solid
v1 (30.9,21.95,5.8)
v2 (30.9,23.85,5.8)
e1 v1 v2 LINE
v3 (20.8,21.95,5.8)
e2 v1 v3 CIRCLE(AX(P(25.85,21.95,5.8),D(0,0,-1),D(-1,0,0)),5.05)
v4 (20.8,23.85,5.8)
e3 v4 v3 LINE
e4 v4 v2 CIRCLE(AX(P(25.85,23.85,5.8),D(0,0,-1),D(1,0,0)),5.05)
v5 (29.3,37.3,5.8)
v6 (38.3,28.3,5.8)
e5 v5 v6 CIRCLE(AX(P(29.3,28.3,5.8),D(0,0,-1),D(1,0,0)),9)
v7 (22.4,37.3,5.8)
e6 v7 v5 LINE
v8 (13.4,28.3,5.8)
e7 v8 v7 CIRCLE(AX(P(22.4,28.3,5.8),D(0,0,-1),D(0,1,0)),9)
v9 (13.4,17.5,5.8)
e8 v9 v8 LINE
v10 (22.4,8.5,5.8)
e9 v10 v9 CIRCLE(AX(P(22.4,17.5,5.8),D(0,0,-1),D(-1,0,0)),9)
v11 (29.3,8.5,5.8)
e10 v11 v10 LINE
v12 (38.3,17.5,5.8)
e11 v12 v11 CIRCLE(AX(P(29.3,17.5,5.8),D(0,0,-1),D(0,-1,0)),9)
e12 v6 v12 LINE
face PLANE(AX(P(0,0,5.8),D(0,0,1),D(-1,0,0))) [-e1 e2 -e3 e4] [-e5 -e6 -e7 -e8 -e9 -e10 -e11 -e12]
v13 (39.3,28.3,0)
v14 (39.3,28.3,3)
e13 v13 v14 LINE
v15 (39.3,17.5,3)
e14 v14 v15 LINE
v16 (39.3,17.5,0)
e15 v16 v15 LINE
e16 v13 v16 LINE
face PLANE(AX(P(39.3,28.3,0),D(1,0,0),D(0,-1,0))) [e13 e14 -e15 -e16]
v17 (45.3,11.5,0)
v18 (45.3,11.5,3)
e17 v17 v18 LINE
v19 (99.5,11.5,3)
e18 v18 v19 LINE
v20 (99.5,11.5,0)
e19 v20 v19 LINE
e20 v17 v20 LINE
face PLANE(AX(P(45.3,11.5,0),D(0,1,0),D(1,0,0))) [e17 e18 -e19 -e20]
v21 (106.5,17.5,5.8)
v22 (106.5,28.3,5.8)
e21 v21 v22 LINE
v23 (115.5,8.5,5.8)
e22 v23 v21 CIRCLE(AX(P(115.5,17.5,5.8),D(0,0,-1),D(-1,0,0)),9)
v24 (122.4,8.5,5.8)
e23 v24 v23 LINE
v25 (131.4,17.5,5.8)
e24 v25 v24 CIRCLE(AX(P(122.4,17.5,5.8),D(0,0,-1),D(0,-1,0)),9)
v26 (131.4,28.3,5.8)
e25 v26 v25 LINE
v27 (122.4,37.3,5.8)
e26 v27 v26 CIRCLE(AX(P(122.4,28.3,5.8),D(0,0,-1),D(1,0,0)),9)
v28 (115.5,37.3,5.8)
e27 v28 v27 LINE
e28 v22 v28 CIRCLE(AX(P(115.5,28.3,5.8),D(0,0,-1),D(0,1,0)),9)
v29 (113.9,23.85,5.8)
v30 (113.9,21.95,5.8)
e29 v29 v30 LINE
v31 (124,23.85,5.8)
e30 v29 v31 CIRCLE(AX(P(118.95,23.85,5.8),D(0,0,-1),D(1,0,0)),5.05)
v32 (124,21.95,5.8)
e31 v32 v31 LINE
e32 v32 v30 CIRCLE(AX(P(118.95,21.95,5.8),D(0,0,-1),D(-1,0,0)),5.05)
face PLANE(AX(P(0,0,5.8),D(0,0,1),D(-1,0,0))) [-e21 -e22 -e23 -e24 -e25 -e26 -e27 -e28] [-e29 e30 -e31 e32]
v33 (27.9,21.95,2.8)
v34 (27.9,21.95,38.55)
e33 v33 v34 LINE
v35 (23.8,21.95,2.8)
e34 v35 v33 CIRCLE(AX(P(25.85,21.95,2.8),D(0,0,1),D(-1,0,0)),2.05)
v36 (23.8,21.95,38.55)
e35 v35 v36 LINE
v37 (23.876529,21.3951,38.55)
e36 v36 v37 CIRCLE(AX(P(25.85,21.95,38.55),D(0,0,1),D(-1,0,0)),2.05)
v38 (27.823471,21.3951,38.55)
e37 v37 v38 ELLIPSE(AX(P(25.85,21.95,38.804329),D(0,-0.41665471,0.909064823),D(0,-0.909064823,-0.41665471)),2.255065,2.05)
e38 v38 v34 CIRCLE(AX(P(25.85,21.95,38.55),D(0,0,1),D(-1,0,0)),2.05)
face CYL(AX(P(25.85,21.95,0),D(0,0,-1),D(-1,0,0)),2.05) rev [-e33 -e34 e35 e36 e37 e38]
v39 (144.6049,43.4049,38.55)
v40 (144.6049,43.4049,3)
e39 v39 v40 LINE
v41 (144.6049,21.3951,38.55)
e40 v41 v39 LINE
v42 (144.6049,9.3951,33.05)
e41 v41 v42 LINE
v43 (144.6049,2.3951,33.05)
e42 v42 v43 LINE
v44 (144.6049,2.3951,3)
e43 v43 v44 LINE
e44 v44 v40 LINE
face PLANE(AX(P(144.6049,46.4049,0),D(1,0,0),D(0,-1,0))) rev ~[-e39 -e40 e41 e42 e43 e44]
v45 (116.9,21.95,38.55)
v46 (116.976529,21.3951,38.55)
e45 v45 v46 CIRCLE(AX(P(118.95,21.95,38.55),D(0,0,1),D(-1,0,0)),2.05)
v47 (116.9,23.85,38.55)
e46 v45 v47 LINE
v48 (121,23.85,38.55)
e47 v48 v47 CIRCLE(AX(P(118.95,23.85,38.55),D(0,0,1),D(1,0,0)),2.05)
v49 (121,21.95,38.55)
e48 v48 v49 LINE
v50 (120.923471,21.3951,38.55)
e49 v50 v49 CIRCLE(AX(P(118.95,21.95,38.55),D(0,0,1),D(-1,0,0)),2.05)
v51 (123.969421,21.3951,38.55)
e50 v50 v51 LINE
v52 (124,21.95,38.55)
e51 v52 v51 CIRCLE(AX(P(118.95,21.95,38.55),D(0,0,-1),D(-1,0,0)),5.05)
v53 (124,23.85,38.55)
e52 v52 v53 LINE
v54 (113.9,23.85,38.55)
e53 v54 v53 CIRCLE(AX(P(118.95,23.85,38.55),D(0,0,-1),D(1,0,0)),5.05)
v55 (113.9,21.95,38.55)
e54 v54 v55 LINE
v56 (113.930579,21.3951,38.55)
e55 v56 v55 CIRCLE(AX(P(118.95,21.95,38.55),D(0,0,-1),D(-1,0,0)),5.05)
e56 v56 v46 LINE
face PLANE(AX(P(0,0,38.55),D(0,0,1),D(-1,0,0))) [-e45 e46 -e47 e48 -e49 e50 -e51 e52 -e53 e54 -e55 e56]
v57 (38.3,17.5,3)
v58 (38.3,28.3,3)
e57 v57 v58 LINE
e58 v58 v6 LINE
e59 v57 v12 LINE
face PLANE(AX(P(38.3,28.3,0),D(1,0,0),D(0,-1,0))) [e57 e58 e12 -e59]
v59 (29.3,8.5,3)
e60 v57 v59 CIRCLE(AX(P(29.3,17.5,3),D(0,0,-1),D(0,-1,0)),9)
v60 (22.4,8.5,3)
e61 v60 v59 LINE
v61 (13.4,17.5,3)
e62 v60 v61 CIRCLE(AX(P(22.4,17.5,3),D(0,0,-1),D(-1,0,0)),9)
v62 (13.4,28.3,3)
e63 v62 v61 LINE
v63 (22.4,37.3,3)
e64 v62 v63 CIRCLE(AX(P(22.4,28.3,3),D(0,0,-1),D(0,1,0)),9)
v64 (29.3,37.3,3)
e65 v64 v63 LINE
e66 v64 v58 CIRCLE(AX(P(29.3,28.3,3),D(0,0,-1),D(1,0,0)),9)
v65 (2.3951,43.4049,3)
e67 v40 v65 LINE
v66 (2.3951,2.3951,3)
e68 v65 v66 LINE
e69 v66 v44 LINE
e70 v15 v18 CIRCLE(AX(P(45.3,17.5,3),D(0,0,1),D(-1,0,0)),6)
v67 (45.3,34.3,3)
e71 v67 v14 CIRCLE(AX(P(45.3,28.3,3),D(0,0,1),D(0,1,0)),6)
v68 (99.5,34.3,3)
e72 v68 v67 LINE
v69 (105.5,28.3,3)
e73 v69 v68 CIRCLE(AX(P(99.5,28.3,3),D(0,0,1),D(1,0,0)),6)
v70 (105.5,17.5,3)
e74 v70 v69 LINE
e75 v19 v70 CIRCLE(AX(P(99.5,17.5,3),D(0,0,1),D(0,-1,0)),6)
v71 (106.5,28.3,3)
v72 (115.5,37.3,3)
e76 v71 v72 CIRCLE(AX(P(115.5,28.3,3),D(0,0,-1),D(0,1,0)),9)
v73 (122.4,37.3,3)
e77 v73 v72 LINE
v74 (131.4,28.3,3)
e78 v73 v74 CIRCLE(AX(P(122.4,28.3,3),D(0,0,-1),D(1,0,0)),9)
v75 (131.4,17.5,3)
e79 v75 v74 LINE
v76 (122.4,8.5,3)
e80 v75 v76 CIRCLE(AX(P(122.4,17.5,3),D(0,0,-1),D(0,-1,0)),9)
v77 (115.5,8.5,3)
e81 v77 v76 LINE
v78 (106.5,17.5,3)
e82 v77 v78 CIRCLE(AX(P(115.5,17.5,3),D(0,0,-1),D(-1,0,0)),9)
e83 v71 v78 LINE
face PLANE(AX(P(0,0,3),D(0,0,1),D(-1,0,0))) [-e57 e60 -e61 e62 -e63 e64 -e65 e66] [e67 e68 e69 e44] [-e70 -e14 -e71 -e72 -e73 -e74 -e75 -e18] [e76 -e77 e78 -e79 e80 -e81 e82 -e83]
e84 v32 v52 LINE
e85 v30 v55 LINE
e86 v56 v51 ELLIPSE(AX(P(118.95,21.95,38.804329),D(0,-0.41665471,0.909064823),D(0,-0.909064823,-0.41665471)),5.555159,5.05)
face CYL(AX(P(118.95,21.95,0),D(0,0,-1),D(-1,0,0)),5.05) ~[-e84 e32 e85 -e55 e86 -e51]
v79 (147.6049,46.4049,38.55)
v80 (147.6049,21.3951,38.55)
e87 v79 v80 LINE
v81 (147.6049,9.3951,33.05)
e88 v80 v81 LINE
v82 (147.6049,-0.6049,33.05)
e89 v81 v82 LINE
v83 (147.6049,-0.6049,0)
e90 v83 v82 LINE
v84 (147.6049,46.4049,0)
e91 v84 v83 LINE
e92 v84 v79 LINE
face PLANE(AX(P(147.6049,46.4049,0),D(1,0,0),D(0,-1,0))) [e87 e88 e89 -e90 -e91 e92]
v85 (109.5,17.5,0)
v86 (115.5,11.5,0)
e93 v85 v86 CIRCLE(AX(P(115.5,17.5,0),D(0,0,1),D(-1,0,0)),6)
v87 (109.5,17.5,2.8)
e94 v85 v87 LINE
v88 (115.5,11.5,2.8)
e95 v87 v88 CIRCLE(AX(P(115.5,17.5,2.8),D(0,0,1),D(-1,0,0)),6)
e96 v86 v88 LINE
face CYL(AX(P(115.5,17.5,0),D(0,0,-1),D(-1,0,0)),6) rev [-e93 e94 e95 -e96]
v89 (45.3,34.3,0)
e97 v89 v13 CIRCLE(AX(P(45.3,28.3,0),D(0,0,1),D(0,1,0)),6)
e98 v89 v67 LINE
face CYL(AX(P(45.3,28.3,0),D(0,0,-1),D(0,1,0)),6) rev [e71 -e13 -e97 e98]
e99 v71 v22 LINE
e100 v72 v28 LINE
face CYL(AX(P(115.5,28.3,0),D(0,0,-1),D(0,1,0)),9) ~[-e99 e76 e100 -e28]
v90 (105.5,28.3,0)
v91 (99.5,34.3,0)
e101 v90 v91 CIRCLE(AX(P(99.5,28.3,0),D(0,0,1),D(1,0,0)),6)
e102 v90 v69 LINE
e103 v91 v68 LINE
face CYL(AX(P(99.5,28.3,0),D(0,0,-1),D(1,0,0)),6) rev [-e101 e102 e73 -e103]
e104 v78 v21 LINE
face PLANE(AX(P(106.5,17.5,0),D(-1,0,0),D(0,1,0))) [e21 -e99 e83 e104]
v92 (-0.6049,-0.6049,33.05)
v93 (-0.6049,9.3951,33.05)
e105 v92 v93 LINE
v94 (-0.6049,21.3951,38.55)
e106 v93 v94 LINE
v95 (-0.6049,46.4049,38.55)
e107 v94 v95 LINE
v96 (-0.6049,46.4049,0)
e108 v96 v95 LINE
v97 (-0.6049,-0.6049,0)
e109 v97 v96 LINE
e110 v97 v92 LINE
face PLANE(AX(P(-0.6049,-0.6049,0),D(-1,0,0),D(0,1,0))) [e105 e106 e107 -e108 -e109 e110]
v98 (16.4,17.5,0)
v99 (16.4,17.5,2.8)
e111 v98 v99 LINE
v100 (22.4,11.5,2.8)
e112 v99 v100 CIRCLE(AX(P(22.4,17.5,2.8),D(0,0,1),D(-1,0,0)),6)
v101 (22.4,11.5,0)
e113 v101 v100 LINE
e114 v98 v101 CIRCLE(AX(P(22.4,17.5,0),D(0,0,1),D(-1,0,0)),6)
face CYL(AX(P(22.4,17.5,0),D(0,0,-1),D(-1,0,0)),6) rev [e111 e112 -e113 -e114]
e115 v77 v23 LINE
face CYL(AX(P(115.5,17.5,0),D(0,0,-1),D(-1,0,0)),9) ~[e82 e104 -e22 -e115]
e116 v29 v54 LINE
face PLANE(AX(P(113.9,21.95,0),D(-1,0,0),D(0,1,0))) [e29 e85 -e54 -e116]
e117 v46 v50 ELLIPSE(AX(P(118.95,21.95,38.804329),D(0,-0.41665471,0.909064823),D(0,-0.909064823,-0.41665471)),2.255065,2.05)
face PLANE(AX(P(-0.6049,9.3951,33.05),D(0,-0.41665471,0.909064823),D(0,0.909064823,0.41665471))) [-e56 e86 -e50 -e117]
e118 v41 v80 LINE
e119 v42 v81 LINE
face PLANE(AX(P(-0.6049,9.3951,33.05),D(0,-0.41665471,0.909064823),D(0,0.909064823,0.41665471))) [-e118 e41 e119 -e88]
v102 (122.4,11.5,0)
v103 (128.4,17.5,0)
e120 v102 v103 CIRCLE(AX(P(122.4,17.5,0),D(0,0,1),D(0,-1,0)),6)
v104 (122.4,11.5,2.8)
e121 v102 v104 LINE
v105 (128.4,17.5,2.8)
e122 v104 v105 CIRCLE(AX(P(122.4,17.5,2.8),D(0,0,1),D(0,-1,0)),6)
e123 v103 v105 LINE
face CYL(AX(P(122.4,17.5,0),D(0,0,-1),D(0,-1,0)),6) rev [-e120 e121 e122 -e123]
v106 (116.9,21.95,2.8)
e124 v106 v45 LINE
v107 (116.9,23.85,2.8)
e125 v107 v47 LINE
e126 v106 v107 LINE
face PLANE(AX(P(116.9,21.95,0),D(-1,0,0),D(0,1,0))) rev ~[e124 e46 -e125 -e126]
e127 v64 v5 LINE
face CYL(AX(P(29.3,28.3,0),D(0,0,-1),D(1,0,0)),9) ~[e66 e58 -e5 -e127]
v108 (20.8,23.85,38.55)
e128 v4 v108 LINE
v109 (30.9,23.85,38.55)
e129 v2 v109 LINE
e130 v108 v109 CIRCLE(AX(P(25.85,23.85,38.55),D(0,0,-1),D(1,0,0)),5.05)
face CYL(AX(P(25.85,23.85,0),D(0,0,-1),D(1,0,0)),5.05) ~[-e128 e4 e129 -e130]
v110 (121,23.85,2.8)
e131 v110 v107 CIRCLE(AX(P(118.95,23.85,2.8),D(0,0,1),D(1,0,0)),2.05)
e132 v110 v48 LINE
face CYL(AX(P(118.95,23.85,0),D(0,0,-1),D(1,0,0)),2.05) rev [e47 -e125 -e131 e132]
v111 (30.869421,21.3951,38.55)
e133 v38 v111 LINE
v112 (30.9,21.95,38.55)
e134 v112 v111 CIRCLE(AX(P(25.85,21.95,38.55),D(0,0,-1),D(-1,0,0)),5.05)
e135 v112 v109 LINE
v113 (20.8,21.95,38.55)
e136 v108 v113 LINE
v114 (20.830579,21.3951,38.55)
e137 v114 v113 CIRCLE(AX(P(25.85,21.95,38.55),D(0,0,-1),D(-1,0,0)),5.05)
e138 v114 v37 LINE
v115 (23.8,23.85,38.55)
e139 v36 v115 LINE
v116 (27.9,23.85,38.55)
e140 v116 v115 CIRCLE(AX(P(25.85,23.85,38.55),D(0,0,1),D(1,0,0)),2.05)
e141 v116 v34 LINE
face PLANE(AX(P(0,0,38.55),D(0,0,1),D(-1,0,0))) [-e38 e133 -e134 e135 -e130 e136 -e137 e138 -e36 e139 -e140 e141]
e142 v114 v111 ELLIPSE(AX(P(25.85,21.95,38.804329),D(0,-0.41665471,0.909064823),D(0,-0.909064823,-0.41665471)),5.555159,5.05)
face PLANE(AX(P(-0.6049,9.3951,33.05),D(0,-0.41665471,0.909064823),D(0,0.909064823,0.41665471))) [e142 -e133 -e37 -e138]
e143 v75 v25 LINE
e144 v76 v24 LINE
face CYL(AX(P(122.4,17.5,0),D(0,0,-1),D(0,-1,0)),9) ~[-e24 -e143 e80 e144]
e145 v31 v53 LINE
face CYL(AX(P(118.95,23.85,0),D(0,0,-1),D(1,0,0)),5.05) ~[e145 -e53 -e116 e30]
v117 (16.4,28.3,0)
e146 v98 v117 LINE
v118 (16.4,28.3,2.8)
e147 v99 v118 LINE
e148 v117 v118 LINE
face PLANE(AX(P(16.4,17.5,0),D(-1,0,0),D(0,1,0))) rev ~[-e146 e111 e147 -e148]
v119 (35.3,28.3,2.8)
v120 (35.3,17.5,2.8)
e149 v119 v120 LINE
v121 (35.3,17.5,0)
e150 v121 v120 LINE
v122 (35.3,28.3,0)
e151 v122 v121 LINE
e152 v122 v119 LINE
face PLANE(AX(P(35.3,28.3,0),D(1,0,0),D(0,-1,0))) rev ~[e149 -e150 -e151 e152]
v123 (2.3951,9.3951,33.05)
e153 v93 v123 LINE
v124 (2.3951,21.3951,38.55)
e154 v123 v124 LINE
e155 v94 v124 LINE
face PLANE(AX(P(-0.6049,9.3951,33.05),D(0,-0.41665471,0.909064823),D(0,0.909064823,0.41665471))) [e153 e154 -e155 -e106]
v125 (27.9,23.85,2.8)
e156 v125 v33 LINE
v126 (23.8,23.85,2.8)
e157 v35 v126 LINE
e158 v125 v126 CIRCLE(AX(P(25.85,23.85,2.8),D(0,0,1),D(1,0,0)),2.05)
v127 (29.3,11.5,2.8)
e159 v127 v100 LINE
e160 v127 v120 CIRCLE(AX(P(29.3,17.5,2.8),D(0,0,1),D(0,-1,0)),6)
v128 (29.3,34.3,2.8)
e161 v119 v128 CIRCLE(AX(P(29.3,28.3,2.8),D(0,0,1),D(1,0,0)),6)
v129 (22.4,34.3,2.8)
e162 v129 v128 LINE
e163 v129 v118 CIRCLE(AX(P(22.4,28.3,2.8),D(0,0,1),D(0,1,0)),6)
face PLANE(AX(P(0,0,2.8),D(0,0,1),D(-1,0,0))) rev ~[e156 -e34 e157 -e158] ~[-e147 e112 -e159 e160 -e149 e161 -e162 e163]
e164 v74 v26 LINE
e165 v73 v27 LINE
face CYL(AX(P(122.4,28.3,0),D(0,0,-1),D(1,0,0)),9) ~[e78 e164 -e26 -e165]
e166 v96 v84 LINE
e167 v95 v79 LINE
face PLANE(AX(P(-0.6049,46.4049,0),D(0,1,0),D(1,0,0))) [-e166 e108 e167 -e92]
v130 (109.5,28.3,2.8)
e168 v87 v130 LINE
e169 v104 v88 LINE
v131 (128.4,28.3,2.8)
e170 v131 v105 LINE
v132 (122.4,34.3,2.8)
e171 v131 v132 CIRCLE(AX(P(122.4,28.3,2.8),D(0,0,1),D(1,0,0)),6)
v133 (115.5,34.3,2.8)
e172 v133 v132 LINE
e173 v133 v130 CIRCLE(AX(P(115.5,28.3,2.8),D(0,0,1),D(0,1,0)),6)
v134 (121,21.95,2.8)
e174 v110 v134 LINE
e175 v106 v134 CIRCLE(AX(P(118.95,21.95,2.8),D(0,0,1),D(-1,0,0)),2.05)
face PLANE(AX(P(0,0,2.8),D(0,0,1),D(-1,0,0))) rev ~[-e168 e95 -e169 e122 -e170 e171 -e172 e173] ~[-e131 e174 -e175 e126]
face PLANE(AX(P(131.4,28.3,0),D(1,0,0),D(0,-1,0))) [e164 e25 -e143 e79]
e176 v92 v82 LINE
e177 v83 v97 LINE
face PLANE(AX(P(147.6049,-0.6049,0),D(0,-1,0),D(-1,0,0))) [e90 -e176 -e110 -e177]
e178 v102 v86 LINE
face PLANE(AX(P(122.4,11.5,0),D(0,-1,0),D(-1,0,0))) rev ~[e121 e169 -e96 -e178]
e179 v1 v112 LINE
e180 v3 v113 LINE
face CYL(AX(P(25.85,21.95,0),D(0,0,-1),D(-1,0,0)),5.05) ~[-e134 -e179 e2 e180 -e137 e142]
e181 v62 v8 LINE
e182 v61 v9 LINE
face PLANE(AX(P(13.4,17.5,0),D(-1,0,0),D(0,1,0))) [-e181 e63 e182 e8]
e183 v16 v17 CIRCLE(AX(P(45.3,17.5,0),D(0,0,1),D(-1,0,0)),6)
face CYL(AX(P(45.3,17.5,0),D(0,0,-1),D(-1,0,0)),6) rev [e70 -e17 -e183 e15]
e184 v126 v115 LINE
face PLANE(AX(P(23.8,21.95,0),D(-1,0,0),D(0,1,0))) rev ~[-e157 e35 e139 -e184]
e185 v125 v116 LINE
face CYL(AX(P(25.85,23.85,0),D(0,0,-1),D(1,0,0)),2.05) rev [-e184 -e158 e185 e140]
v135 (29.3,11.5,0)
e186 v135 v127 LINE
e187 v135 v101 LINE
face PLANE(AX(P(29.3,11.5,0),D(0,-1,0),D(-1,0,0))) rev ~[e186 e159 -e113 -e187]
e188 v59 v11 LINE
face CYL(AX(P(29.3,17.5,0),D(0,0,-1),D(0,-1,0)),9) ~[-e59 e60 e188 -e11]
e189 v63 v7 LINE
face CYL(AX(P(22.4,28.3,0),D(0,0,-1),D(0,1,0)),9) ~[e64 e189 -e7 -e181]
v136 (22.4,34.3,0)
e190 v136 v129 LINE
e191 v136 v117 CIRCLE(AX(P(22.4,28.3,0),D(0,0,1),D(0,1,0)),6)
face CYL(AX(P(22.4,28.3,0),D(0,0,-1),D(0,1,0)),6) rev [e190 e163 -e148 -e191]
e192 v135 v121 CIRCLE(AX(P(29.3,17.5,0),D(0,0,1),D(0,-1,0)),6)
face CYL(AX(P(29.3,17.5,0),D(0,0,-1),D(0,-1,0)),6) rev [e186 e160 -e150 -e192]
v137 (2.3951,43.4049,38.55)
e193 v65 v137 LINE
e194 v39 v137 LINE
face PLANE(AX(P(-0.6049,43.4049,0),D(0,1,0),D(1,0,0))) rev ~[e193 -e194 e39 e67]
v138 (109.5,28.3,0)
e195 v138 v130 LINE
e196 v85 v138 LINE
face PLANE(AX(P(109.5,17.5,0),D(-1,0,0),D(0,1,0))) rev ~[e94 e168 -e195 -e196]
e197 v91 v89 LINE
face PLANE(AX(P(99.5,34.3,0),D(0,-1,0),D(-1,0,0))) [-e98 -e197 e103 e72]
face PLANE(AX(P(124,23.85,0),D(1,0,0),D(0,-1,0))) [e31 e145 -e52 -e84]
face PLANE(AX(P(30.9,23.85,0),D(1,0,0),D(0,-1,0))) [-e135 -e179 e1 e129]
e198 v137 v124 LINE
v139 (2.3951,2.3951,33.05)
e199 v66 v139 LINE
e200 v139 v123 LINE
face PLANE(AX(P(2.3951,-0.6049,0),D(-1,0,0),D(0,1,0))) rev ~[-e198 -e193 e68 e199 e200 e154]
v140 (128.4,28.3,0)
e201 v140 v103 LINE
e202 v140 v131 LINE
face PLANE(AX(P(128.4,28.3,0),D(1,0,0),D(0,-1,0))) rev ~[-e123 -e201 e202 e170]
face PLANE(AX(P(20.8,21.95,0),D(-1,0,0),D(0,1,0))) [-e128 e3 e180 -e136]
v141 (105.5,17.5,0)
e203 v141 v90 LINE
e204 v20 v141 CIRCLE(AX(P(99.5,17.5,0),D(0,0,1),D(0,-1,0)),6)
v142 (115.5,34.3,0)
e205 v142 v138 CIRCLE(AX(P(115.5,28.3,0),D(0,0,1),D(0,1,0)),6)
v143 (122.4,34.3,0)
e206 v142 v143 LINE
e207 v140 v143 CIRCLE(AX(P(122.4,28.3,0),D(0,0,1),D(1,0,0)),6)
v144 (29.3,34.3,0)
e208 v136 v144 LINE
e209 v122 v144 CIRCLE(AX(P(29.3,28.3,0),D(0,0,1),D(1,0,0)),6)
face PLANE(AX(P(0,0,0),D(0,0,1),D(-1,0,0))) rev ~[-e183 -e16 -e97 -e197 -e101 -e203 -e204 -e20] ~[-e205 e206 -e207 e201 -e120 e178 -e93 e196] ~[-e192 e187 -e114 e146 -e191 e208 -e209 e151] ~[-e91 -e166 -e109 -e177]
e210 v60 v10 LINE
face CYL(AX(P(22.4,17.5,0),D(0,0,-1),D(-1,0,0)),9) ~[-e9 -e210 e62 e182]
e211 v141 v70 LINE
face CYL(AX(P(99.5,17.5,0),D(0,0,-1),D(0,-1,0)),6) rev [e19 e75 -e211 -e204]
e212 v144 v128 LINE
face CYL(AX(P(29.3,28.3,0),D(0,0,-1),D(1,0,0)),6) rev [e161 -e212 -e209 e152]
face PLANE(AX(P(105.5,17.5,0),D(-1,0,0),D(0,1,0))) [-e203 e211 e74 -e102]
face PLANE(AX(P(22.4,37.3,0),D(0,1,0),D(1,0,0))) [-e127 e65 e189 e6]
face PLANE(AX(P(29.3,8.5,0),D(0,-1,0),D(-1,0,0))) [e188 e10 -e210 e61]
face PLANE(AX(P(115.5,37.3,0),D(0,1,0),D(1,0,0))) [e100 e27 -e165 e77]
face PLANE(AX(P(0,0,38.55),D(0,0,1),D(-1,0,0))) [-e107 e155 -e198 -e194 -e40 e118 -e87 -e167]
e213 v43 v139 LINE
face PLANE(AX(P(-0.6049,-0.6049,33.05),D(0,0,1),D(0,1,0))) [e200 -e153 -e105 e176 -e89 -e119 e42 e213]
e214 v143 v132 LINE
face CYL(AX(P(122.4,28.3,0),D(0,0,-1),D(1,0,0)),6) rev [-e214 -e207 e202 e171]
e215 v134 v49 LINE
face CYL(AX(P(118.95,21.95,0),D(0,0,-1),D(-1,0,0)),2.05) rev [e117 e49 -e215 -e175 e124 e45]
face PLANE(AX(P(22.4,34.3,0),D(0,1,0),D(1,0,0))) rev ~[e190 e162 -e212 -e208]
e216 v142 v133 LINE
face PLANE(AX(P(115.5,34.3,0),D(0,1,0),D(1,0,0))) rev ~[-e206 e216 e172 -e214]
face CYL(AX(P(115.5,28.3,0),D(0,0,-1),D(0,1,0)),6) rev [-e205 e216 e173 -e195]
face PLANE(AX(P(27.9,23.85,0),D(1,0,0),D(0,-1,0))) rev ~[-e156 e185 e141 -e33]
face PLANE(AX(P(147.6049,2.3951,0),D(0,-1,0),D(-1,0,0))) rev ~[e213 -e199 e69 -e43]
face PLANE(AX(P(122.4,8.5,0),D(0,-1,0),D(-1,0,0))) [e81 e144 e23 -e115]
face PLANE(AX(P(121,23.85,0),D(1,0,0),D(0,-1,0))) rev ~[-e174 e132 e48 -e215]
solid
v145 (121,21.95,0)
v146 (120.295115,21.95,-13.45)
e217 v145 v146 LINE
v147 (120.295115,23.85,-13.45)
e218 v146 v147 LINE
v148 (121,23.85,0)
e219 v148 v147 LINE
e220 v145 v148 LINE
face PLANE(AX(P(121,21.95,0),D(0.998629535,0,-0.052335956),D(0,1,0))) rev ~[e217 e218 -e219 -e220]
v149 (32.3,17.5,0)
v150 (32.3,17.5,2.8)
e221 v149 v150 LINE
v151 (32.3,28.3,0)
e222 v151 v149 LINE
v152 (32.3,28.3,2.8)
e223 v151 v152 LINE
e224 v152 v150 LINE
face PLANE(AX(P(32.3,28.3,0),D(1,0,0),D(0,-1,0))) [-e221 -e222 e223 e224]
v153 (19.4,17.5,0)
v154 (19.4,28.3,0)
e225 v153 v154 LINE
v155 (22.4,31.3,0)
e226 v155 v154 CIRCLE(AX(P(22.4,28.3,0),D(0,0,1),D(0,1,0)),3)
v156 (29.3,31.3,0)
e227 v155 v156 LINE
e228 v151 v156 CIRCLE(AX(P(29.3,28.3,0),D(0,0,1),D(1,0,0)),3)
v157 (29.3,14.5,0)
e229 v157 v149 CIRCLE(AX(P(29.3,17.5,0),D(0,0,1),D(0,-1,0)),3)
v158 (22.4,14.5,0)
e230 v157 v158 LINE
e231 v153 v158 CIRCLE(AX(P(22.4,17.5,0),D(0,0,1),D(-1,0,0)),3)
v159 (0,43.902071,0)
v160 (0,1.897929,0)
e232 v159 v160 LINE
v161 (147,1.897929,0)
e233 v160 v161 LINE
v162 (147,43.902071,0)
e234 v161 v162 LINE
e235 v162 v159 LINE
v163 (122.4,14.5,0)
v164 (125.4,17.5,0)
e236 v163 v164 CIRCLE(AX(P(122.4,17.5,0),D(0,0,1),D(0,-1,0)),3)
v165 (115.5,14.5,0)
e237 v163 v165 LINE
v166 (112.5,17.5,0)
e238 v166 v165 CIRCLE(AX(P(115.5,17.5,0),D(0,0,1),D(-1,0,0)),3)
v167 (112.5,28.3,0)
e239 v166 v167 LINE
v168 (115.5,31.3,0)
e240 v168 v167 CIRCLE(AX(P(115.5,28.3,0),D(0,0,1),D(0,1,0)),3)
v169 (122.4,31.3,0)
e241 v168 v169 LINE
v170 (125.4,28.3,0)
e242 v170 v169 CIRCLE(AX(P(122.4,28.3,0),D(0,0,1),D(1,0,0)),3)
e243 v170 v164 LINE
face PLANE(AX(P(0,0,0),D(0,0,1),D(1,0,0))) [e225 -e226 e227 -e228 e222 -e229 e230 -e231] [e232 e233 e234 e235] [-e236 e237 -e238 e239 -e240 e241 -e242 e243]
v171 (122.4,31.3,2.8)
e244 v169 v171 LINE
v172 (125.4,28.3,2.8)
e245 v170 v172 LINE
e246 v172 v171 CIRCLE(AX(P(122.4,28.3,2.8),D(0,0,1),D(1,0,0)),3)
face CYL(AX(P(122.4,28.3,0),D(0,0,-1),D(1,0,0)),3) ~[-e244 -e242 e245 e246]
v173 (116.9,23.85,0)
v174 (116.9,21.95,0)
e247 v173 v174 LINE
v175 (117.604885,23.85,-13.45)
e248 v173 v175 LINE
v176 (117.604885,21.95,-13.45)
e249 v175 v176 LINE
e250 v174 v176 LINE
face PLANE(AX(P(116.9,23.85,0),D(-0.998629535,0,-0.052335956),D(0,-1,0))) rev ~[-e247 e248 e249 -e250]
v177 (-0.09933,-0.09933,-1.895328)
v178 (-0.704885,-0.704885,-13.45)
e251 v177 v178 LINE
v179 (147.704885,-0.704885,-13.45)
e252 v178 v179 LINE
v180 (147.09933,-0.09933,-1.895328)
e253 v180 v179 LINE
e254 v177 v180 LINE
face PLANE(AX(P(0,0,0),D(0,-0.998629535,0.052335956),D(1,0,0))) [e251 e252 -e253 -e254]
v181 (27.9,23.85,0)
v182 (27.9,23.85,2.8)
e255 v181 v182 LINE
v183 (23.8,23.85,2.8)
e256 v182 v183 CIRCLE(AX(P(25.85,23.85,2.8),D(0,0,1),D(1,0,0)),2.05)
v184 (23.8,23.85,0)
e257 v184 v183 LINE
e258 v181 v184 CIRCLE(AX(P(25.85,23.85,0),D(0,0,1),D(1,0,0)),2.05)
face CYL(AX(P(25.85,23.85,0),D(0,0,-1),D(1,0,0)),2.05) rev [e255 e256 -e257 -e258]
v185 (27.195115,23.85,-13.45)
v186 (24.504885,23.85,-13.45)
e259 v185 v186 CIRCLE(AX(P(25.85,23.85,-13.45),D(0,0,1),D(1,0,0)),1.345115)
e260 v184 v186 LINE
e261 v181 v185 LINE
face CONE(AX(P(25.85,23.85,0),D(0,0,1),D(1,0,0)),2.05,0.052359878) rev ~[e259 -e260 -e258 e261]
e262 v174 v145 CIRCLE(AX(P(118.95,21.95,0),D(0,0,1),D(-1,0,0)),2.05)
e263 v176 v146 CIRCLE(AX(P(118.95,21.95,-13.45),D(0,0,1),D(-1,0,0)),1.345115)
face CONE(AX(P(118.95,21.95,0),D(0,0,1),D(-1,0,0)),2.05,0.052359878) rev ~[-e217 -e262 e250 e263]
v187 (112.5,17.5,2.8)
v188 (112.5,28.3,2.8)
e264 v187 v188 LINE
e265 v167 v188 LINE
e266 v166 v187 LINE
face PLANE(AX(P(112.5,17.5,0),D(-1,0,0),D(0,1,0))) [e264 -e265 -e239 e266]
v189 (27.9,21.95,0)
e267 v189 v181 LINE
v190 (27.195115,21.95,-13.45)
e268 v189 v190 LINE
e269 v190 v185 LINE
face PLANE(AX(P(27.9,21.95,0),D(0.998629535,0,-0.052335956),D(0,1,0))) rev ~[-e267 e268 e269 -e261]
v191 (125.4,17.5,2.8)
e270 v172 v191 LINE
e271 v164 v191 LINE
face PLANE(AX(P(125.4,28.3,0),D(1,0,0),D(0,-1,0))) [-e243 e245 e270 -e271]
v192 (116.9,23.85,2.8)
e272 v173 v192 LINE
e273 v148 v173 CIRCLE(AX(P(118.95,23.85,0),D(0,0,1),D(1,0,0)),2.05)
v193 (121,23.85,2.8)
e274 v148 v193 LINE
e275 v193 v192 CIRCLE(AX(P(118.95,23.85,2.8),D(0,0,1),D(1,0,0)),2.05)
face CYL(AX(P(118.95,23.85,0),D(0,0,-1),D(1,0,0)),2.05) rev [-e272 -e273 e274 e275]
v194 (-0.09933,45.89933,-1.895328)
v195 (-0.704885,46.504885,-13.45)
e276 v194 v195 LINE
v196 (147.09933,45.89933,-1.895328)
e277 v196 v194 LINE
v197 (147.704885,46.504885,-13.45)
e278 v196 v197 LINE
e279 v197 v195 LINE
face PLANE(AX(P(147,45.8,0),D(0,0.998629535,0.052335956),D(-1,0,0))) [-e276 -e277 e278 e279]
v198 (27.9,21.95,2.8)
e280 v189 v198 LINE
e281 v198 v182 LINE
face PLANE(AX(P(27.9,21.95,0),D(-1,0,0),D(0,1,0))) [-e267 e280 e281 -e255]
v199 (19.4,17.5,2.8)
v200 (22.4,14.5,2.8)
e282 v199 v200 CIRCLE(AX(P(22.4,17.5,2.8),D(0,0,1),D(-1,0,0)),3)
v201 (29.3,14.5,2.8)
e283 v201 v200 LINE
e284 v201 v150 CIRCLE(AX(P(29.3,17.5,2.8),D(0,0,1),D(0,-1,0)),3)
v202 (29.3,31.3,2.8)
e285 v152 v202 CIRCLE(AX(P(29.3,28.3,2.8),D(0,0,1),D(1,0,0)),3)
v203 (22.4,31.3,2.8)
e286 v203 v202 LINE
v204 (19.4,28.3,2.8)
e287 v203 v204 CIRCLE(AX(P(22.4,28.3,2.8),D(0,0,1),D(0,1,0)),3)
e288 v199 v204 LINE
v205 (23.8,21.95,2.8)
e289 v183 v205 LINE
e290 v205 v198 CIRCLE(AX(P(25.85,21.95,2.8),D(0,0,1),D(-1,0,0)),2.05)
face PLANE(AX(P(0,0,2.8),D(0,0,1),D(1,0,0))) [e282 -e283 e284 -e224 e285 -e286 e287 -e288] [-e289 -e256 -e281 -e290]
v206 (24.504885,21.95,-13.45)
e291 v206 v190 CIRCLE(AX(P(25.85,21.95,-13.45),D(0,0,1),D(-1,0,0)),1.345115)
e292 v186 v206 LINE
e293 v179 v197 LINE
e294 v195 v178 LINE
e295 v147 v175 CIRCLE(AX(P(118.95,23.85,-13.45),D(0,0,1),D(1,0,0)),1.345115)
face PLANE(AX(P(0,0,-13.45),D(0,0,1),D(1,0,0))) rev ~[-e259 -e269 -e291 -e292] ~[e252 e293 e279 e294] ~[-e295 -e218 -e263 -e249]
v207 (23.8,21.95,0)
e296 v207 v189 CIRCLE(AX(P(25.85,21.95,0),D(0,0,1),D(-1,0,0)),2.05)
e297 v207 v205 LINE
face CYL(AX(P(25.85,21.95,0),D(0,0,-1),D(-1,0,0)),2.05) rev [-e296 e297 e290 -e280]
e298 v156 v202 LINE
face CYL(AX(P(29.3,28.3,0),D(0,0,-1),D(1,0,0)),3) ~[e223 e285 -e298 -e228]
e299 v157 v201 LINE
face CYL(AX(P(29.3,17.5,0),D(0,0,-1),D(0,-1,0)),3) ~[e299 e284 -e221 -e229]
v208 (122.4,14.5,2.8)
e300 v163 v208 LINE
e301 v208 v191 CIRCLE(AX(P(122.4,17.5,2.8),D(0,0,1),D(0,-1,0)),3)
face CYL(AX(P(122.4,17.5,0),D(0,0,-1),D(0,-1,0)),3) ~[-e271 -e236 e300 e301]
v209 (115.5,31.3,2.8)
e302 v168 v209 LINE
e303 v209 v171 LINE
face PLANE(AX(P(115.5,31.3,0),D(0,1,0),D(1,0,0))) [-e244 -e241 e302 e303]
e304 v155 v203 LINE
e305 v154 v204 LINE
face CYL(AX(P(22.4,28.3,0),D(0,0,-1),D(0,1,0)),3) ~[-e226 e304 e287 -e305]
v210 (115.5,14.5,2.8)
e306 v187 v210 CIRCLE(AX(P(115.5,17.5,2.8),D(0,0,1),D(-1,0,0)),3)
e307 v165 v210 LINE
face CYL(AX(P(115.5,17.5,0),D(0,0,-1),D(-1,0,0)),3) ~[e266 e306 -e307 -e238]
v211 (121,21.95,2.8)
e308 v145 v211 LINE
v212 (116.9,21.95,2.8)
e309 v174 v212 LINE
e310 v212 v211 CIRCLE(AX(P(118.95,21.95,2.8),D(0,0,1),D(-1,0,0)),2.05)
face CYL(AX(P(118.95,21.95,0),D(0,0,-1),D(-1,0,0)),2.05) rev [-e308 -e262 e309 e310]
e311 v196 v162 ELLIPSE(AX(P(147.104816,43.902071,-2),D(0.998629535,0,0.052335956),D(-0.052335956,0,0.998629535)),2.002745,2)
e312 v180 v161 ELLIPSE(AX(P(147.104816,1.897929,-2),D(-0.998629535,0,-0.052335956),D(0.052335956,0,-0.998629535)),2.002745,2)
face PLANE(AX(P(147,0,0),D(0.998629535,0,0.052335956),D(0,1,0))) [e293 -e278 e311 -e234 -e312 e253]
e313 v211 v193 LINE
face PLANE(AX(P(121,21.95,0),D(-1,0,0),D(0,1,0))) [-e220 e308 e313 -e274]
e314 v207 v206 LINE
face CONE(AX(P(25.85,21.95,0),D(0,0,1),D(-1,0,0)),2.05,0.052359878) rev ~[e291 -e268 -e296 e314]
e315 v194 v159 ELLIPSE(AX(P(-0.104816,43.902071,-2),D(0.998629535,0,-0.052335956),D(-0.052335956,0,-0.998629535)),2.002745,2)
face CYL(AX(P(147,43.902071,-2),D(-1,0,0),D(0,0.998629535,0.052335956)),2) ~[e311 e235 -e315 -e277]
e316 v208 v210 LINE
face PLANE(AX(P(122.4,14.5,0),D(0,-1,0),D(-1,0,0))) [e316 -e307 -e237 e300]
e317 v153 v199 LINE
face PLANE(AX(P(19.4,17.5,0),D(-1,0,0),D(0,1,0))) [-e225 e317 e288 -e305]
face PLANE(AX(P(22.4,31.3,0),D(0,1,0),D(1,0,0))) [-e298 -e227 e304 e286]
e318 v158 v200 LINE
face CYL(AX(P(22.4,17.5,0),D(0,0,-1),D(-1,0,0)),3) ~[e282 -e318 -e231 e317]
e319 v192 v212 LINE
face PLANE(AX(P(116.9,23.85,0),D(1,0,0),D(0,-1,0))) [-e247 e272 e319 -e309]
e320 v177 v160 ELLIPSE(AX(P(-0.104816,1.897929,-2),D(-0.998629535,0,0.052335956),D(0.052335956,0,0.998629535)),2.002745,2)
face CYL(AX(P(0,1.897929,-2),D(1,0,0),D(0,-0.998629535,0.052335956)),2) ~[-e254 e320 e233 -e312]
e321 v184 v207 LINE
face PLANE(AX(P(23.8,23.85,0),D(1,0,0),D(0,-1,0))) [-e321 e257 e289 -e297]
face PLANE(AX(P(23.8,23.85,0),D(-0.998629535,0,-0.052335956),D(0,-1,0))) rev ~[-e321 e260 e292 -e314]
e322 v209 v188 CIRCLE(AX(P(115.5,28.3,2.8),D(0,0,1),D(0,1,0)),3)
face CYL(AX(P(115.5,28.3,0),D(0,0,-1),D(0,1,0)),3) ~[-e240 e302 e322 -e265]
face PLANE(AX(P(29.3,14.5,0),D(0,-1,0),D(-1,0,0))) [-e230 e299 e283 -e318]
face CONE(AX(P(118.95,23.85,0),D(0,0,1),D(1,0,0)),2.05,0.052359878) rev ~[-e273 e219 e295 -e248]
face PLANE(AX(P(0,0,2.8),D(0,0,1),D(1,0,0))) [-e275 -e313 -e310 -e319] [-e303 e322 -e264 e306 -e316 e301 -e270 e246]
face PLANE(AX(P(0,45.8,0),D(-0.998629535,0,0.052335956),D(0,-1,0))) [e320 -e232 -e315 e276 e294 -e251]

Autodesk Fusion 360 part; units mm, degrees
sketch "Sketch1" plane through (0, 0, 0) normal (0, 0, 1) x (1, 0, 0) in component "Doorbell Back"
  line L0 (0, 0) -> (147, 0)
  line L1 (147, 0) -> (147, 45.8)
  line L2 (147, 45.8) -> (0, 45.8)
  line L3 (0, 45.8) -> (0, 0)
  line L4 (145.7948, 3.1933) -> (145.7948, 0) construction
  line L5 (145.7948, 43.4933) -> (145.7948, 45.8) construction
  line L6 (147, 22.9) -> (0, 22.9) construction
  line L7 (27.9, 21.95) -> (27.9, 23.85)
  arc A0 (27.9, 23.85) -> (23.8, 23.85) centre (25.85, 23.85) ccw
  line L8 (23.8, 23.85) -> (23.8, 21.95)
  arc A1 (23.8, 21.95) -> (27.9, 21.95) centre (25.85, 21.95) ccw
  line L9 (25.85, 21.95) -> (25.85, 23.85) construction
  line L10 (121, 21.95) -> (121, 23.85)
  arc A2 (121, 23.85) -> (116.9, 23.85) centre (118.95, 23.85) ccw
  line L11 (116.9, 23.85) -> (116.9, 21.95)
  arc A3 (116.9, 21.95) -> (121, 21.95) centre (118.95, 21.95) ccw
  line L12 (118.95, 21.95) -> (118.95, 23.85) construction
  line L13 (22.4, 31.3) -> (29.3, 31.3)
  line L14 (32.3, 28.3) -> (32.3, 17.5)
  line L15 (29.3, 14.5) -> (22.4, 14.5)
  line L16 (19.4, 17.5) -> (19.4, 28.3)
  line L17 (19.4, 31.3) -> (32.3, 14.5) construction
  line L18 (32.3, 31.3) -> (19.4, 14.5) construction
  arc A4 (19.4, 17.5) -> (22.4, 14.5) centre (22.4, 17.5) ccw
  arc A5 (29.3, 14.5) -> (32.3, 17.5) centre (29.3, 17.5) ccw
  arc A6 (22.4, 31.3) -> (19.4, 28.3) centre (22.4, 28.3) ccw
  arc A7 (32.3, 28.3) -> (29.3, 31.3) centre (29.3, 28.3) ccw
  line L19 (25.85, 22.9) -> (118.95, 22.9) construction
  line L20 (115.5, 31.3) -> (122.4, 31.3)
  line L21 (125.4, 28.3) -> (125.4, 17.5)
  line L22 (122.4, 14.5) -> (115.5, 14.5)
  line L23 (112.5, 17.5) -> (112.5, 28.3)
  line L24 (112.5, 31.3) -> (125.4, 14.5) construction
  line L25 (125.4, 31.3) -> (112.5, 14.5) construction
  arc A8 (115.5, 31.3) -> (112.5, 28.3) centre (115.5, 28.3) ccw
  arc A9 (125.4, 28.3) -> (122.4, 31.3) centre (122.4, 28.3) ccw
  arc A10 (122.4, 14.5) -> (125.4, 17.5) centre (122.4, 17.5) ccw
  arc A11 (112.5, 17.5) -> (115.5, 14.5) centre (115.5, 17.5) ccw
  point P0 (25.85, 22.9)
  point P1 (118.95, 22.9)
  point P2 (25.85, 22.9)
  point P3 (118.95, 22.9)
  dimension "d1" = 45.8
  dimension "d5" = 147
  dimension "d6" = 4.1
  dimension "d7" = 6
  dimension "d10" = 16.8
  dimension "d11" = 12.9
  dimension "d12" = 3
  dimension "d14" = 93.1
  dimension "d15" = 28.05
extrude "Extrude1" add sketch "Sketch1" against normal blind 13.45 draft 3 contours L0 L1 L2 L3 | L13 L14 L15 L16 A4 A5 A6 A7 | L20 L21 L22 L23 A8 A9 A10 A11 makes body 1 in component "Doorbell Back"
extrude "Extrude2" add sketch "Sketch1" along normal blind 2.8 contours L13 L14 L15 L16 A4 A5 A6 A7 | L20 L21 L22 L23 A8 A9 A10 A11 bodies 1 in component "Doorbell Back"
fillet "Fillet1" radius 2 2 edges at (73.5, 45.8, 0) (73.5, 0, 0) on bodies 1 in component "Doorbell Back"
shell "Shell1" thickness 2.4 removed faces 9 at (27.665, 22.5833, -4.4833) at (24.1601, 24.0114, -6.725) at (24.2699, 23.2167, -8.9667) at (24.1601, 21.7886, -6.725) at (120.5301, 22.5833, -8.9667) at (117.2601, 24.0114, -6.725) at (138.5683, 22.5833, -13.45) at (117.135, 23.2167, -4.4833) at (120.6399, 21.7886, -6.725) on bodies 1 in component "Doorbell Back"
sketch "Sketch1 (2)" plane through (0, 0, 0) normal (0, 0, 1) x (-1, 0, 0) in component "Spacer"
  line L0 (-115.5, -31.3) -> (-122.4, -31.3)
  arc A0 (-125.4, -28.3) -> (-122.4, -31.3) centre (-122.4, -28.3) ccw
  line L1 (-125.4, -28.3) -> (-125.4, -17.5)
  arc A1 (-122.4, -14.5) -> (-125.4, -17.5) centre (-122.4, -17.5) ccw construction
  line L2 (-122.4, -14.5) -> (-115.5, -14.5) construction
  arc A2 (-112.5, -17.5) -> (-115.5, -14.5) centre (-115.5, -17.5) ccw construction
  line L3 (-112.5, -17.5) -> (-112.5, -28.3) construction
  arc A3 (-115.5, -31.3) -> (-112.5, -28.3) centre (-115.5, -28.3) ccw construction
  line L4 (-29.3, -14.5) -> (-22.4, -14.5) construction
  arc A4 (-19.4, -17.5) -> (-22.4, -14.5) centre (-22.4, -17.5) ccw construction
  line L5 (-19.4, -17.5) -> (-19.4, -28.3) construction
  arc A5 (-22.4, -31.3) -> (-19.4, -28.3) centre (-22.4, -28.3) ccw construction
  line L6 (-22.4, -31.3) -> (-29.3, -31.3) construction
  arc A6 (-32.3, -28.3) -> (-29.3, -31.3) centre (-29.3, -28.3) ccw construction
  line L7 (-32.3, -28.3) -> (-32.3, -17.5) construction
  arc A7 (-29.3, -14.5) -> (-32.3, -17.5) centre (-29.3, -17.5) ccw construction
  line L8 (0, -1.8979) -> (-147, -1.8979)
  line L9 (-147, -1.8979) -> (-147, -43.9021)
  line L10 (-147, -43.9021) -> (0, -43.9021)
  line L11 (0, -43.9021) -> (0, -1.8979)
  arc A8 (-121, -23.85) -> (-116.9, -23.85) centre (-118.95, -23.85) ccw
  line L12 (-121, -23.85) -> (-121, -21.95)
  arc A9 (-27.9, -23.85) -> (-23.8, -23.85) centre (-25.85, -23.85) ccw construction
  line L13 (-27.9, -23.85) -> (-27.9, -21.95)
  arc A10 (-116.9, -21.95) -> (-121, -21.95) centre (-118.95, -21.95) ccw
  arc A11 (-23.8, -21.95) -> (-27.9, -21.95) centre (-25.85, -21.95) ccw construction
  line L14 (-23.8, -21.95) -> (-23.8, -23.85)
  line L15 (-116.9, -21.95) -> (-116.9, -23.85)
  line L16 (-147.7049, 0.7049) -> (-147.7049, -46.5049)
  line L17 (-147.7049, -46.5049) -> (0.7049, -46.5049)
  line L18 (0.7049, 0.7049) -> (-147.7049, 0.7049)
  line L19 (0.7049, -46.5049) -> (0.7049, 0.7049)
  line L20 (0.6049, -46.4049) -> (-147.6049, -46.4049)
  line L21 (-147.6049, -46.4049) -> (-147.6049, 0.6049)
  line L22 (-147.6049, 0.6049) -> (0.6049, 0.6049)
  line L23 (0.6049, 0.6049) -> (0.6049, -46.4049)
  arc A12 (-23.8, -21.95) -> (-27.9, -21.95) centre (-25.85, -21.95) ccw
  line L24 (-23.8, -21.95) -> (-23.8, -23.85) construction
  arc A13 (-27.9, -23.85) -> (-23.8, -23.85) centre (-25.85, -23.85) ccw
  line L25 (-27.9, -23.85) -> (-27.9, -21.95) construction
  arc A14 (-29.3, -14.5) -> (-32.3, -17.5) centre (-29.3, -17.5) ccw construction
  line L26 (-32.3, -17.5) -> (-32.3, -28.3) construction
  arc A15 (-32.3, -28.3) -> (-29.3, -31.3) centre (-29.3, -28.3) ccw construction
  line L27 (-29.3, -31.3) -> (-22.4, -31.3) construction
  arc A16 (-22.4, -31.3) -> (-19.4, -28.3) centre (-22.4, -28.3) ccw construction
  line L28 (-19.4, -28.3) -> (-19.4, -17.5) construction
  arc A17 (-19.4, -17.5) -> (-22.4, -14.5) centre (-22.4, -17.5) ccw construction
  line L29 (-22.4, -14.5) -> (-29.3, -14.5) construction
  arc A18 (-116.9, -21.95) -> (-121, -21.95) centre (-118.95, -21.95) ccw
  line L30 (-116.9, -21.95) -> (-116.9, -23.85)
  arc A19 (-121, -23.85) -> (-116.9, -23.85) centre (-118.95, -23.85) ccw
  line L31 (-121, -23.85) -> (-121, -21.95)
  arc A20 (-115.5, -31.3) -> (-112.5, -28.3) centre (-115.5, -28.3) ccw construction
  line L32 (-112.5, -28.3) -> (-112.5, -17.5) construction
  arc A21 (-112.5, -17.5) -> (-115.5, -14.5) centre (-115.5, -17.5) ccw construction
  line L33 (-115.5, -14.5) -> (-122.4, -14.5) construction
  arc A22 (-122.4, -14.5) -> (-125.4, -17.5) centre (-122.4, -17.5) ccw construction
  line L34 (-125.4, -17.5) -> (-125.4, -28.3) construction
  arc A23 (-125.4, -28.3) -> (-122.4, -31.3) centre (-122.4, -28.3) ccw construction
  line L35 (-122.4, -31.3) -> (-115.5, -31.3) construction
  line L36 (-112.5, -17.5) -> (-112.5, -28.3) construction
  line L37 (-143.6049, -3.3951) -> (-3.3951, -3.3951)
  line L38 (-3.3951, -3.3951) -> (-3.3951, -42.4049)
  line L39 (-3.3951, -42.4049) -> (-143.6049, -42.4049)
  line L40 (-143.6049, -42.4049) -> (-143.6049, -3.3951)
  arc A24 (-29.3, -11.5) -> (-35.3, -17.5) centre (-29.3, -17.5) ccw
  line L41 (-35.3, -28.3) -> (-35.3, -17.5)
  arc A25 (-35.3, -28.3) -> (-29.3, -34.3) centre (-29.3, -28.3) ccw
  line L42 (-22.4, -34.3) -> (-29.3, -34.3)
  arc A26 (-22.4, -34.3) -> (-16.4, -28.3) centre (-22.4, -28.3) ccw
  line L43 (-16.4, -17.5) -> (-16.4, -28.3)
  arc A27 (-16.4, -17.5) -> (-22.4, -11.5) centre (-22.4, -17.5) ccw
  line L44 (-29.3, -11.5) -> (-22.4, -11.5)
  arc A28 (-115.5, -34.3) -> (-109.5, -28.3) centre (-115.5, -28.3) ccw
  line L45 (-109.5, -17.5) -> (-109.5, -28.3)
  arc A29 (-109.5, -17.5) -> (-115.5, -11.5) centre (-115.5, -17.5) ccw
  line L46 (-122.4, -11.5) -> (-115.5, -11.5)
  arc A30 (-122.4, -11.5) -> (-128.4, -17.5) centre (-122.4, -17.5) ccw
  line L47 (-128.4, -28.3) -> (-128.4, -17.5)
  arc A31 (-128.4, -28.3) -> (-122.4, -34.3) centre (-122.4, -28.3) ccw
  line L48 (-115.5, -34.3) -> (-122.4, -34.3)
  line L49 (-109.5, -22.9) -> (-35.3, -22.9) construction
  line L50 (-99.5, -34.3) -> (-45.3, -34.3)
  line L51 (-39.3, -28.3) -> (-39.3, -17.5)
  line L52 (-45.3, -11.5) -> (-99.5, -11.5)
  line L53 (-105.5, -17.5) -> (-105.5, -28.3)
  arc A32 (-105.5, -28.3) -> (-99.5, -34.3) centre (-99.5, -28.3) ccw
  arc A33 (-45.3, -34.3) -> (-39.3, -28.3) centre (-45.3, -28.3) ccw
  arc A34 (-39.3, -17.5) -> (-45.3, -11.5) centre (-45.3, -17.5) ccw
  arc A35 (-99.5, -11.5) -> (-105.5, -17.5) centre (-99.5, -17.5) ccw
  line L54 (35.3371, -43.8995) -> (89.7566, -43.8995) construction
  line L55 (89.7566, -43.8995) -> (89.7566, -24.1317) construction
  line L56 (89.7566, -24.1317) -> (35.3371, -24.1317) construction
  line L57 (35.3371, -24.1317) -> (35.3371, -43.8995) construction
  dimension "d25" = 0.1
  dimension "d26" = 0.1
  dimension "d27" = 0.1
  dimension "d28" = 0.1
  dimension "d29" = 4
  dimension "d30" = -3
  dimension "d31" = -3
  dimension "d45" = 4
  dimension "d46" = 4
  dimension "d47" = 6
  dimension "d50" = 26.4549
  dimension "d51" = 28.6549
  dimension "d52" = 10
extrude "Extrude1'" add sketch "Sketch1 (2)" along normal blind 38.55 separate body contours L8 L9 L10 L11 | L20 L21 L22 L23 | L37 L38 L39 L40 | A24 L41 A25 L42 A26 L43 A27 L44 | A28 L45 A29 L46 A30 L47 A31 L48 | L50 L51 L52 L53 A32 A33 A34 A35 makes body 2 in component "Spacer"
extrude "Extrude4" cut sketch "Sketch1 (2)" along normal blind 2.8 contours A24 L41 A25 L42 A26 L43 A27 L44 | A28 L45 A29 L46 A30 L47 A31 L48 bodies 2 in component "Spacer"
shell "Shell1'" thickness 3 removed faces 1 at (138.7366, 22.5833, 38.55) on bodies 2 in component "Spacer"
extrude "Extrude5" cut sketch "Sketch1 (2)" along normal blind 3 contours L50 L51 L52 L53 A32 A33 A34 A35 bodies 2 in component "Spacer"
sketch "Sketch2" plane through (-0.6049, 0, 0) normal (-1, 0, 0) x (0, -1, 0) in component "Spacer"
  line L0 (-46.4049, 0) -> (0.6049, 0)
  line L1 (0.6049, 0) -> (0.6049, 38.55)
  line L2 (0.6049, 38.55) -> (-46.4049, 38.55)
  line L3 (-46.4049, 38.55) -> (-46.4049, 0)
  line L4 (0.6049, 33.05) -> (-9.3951, 33.05)
  line L5 (-9.3951, 33.05) -> (-21.3951, 38.55)
  line L6 (-22.9, 38.55) -> (-22.9, 48.1731) construction
  dimension "d55" = 10
  dimension "d57" = 12
  dimension "d58" = 5.5
extrude "Extrude6" cut sketch "Sketch2" against normal through all contours L1 L2 L4 L5 bodies 2 in component "Spacer"
component "Doorbell Back" placed x (1, 0, 0) y (0, 1, 0) z (0, 0, 1) at (0, 0, 0)
component "Spacer" placed x (1, 0, 0) y (0, 1, 0) z (0, 0, 1) at (0, 0, 0)
equation "d26 = d25"
equation "d27 = d25"
equation "d28 = d25"
equation "d32 = 52 mm - 13.45 mm"
equation "d46 = d45"
equation "d53 = 'TOP'"
